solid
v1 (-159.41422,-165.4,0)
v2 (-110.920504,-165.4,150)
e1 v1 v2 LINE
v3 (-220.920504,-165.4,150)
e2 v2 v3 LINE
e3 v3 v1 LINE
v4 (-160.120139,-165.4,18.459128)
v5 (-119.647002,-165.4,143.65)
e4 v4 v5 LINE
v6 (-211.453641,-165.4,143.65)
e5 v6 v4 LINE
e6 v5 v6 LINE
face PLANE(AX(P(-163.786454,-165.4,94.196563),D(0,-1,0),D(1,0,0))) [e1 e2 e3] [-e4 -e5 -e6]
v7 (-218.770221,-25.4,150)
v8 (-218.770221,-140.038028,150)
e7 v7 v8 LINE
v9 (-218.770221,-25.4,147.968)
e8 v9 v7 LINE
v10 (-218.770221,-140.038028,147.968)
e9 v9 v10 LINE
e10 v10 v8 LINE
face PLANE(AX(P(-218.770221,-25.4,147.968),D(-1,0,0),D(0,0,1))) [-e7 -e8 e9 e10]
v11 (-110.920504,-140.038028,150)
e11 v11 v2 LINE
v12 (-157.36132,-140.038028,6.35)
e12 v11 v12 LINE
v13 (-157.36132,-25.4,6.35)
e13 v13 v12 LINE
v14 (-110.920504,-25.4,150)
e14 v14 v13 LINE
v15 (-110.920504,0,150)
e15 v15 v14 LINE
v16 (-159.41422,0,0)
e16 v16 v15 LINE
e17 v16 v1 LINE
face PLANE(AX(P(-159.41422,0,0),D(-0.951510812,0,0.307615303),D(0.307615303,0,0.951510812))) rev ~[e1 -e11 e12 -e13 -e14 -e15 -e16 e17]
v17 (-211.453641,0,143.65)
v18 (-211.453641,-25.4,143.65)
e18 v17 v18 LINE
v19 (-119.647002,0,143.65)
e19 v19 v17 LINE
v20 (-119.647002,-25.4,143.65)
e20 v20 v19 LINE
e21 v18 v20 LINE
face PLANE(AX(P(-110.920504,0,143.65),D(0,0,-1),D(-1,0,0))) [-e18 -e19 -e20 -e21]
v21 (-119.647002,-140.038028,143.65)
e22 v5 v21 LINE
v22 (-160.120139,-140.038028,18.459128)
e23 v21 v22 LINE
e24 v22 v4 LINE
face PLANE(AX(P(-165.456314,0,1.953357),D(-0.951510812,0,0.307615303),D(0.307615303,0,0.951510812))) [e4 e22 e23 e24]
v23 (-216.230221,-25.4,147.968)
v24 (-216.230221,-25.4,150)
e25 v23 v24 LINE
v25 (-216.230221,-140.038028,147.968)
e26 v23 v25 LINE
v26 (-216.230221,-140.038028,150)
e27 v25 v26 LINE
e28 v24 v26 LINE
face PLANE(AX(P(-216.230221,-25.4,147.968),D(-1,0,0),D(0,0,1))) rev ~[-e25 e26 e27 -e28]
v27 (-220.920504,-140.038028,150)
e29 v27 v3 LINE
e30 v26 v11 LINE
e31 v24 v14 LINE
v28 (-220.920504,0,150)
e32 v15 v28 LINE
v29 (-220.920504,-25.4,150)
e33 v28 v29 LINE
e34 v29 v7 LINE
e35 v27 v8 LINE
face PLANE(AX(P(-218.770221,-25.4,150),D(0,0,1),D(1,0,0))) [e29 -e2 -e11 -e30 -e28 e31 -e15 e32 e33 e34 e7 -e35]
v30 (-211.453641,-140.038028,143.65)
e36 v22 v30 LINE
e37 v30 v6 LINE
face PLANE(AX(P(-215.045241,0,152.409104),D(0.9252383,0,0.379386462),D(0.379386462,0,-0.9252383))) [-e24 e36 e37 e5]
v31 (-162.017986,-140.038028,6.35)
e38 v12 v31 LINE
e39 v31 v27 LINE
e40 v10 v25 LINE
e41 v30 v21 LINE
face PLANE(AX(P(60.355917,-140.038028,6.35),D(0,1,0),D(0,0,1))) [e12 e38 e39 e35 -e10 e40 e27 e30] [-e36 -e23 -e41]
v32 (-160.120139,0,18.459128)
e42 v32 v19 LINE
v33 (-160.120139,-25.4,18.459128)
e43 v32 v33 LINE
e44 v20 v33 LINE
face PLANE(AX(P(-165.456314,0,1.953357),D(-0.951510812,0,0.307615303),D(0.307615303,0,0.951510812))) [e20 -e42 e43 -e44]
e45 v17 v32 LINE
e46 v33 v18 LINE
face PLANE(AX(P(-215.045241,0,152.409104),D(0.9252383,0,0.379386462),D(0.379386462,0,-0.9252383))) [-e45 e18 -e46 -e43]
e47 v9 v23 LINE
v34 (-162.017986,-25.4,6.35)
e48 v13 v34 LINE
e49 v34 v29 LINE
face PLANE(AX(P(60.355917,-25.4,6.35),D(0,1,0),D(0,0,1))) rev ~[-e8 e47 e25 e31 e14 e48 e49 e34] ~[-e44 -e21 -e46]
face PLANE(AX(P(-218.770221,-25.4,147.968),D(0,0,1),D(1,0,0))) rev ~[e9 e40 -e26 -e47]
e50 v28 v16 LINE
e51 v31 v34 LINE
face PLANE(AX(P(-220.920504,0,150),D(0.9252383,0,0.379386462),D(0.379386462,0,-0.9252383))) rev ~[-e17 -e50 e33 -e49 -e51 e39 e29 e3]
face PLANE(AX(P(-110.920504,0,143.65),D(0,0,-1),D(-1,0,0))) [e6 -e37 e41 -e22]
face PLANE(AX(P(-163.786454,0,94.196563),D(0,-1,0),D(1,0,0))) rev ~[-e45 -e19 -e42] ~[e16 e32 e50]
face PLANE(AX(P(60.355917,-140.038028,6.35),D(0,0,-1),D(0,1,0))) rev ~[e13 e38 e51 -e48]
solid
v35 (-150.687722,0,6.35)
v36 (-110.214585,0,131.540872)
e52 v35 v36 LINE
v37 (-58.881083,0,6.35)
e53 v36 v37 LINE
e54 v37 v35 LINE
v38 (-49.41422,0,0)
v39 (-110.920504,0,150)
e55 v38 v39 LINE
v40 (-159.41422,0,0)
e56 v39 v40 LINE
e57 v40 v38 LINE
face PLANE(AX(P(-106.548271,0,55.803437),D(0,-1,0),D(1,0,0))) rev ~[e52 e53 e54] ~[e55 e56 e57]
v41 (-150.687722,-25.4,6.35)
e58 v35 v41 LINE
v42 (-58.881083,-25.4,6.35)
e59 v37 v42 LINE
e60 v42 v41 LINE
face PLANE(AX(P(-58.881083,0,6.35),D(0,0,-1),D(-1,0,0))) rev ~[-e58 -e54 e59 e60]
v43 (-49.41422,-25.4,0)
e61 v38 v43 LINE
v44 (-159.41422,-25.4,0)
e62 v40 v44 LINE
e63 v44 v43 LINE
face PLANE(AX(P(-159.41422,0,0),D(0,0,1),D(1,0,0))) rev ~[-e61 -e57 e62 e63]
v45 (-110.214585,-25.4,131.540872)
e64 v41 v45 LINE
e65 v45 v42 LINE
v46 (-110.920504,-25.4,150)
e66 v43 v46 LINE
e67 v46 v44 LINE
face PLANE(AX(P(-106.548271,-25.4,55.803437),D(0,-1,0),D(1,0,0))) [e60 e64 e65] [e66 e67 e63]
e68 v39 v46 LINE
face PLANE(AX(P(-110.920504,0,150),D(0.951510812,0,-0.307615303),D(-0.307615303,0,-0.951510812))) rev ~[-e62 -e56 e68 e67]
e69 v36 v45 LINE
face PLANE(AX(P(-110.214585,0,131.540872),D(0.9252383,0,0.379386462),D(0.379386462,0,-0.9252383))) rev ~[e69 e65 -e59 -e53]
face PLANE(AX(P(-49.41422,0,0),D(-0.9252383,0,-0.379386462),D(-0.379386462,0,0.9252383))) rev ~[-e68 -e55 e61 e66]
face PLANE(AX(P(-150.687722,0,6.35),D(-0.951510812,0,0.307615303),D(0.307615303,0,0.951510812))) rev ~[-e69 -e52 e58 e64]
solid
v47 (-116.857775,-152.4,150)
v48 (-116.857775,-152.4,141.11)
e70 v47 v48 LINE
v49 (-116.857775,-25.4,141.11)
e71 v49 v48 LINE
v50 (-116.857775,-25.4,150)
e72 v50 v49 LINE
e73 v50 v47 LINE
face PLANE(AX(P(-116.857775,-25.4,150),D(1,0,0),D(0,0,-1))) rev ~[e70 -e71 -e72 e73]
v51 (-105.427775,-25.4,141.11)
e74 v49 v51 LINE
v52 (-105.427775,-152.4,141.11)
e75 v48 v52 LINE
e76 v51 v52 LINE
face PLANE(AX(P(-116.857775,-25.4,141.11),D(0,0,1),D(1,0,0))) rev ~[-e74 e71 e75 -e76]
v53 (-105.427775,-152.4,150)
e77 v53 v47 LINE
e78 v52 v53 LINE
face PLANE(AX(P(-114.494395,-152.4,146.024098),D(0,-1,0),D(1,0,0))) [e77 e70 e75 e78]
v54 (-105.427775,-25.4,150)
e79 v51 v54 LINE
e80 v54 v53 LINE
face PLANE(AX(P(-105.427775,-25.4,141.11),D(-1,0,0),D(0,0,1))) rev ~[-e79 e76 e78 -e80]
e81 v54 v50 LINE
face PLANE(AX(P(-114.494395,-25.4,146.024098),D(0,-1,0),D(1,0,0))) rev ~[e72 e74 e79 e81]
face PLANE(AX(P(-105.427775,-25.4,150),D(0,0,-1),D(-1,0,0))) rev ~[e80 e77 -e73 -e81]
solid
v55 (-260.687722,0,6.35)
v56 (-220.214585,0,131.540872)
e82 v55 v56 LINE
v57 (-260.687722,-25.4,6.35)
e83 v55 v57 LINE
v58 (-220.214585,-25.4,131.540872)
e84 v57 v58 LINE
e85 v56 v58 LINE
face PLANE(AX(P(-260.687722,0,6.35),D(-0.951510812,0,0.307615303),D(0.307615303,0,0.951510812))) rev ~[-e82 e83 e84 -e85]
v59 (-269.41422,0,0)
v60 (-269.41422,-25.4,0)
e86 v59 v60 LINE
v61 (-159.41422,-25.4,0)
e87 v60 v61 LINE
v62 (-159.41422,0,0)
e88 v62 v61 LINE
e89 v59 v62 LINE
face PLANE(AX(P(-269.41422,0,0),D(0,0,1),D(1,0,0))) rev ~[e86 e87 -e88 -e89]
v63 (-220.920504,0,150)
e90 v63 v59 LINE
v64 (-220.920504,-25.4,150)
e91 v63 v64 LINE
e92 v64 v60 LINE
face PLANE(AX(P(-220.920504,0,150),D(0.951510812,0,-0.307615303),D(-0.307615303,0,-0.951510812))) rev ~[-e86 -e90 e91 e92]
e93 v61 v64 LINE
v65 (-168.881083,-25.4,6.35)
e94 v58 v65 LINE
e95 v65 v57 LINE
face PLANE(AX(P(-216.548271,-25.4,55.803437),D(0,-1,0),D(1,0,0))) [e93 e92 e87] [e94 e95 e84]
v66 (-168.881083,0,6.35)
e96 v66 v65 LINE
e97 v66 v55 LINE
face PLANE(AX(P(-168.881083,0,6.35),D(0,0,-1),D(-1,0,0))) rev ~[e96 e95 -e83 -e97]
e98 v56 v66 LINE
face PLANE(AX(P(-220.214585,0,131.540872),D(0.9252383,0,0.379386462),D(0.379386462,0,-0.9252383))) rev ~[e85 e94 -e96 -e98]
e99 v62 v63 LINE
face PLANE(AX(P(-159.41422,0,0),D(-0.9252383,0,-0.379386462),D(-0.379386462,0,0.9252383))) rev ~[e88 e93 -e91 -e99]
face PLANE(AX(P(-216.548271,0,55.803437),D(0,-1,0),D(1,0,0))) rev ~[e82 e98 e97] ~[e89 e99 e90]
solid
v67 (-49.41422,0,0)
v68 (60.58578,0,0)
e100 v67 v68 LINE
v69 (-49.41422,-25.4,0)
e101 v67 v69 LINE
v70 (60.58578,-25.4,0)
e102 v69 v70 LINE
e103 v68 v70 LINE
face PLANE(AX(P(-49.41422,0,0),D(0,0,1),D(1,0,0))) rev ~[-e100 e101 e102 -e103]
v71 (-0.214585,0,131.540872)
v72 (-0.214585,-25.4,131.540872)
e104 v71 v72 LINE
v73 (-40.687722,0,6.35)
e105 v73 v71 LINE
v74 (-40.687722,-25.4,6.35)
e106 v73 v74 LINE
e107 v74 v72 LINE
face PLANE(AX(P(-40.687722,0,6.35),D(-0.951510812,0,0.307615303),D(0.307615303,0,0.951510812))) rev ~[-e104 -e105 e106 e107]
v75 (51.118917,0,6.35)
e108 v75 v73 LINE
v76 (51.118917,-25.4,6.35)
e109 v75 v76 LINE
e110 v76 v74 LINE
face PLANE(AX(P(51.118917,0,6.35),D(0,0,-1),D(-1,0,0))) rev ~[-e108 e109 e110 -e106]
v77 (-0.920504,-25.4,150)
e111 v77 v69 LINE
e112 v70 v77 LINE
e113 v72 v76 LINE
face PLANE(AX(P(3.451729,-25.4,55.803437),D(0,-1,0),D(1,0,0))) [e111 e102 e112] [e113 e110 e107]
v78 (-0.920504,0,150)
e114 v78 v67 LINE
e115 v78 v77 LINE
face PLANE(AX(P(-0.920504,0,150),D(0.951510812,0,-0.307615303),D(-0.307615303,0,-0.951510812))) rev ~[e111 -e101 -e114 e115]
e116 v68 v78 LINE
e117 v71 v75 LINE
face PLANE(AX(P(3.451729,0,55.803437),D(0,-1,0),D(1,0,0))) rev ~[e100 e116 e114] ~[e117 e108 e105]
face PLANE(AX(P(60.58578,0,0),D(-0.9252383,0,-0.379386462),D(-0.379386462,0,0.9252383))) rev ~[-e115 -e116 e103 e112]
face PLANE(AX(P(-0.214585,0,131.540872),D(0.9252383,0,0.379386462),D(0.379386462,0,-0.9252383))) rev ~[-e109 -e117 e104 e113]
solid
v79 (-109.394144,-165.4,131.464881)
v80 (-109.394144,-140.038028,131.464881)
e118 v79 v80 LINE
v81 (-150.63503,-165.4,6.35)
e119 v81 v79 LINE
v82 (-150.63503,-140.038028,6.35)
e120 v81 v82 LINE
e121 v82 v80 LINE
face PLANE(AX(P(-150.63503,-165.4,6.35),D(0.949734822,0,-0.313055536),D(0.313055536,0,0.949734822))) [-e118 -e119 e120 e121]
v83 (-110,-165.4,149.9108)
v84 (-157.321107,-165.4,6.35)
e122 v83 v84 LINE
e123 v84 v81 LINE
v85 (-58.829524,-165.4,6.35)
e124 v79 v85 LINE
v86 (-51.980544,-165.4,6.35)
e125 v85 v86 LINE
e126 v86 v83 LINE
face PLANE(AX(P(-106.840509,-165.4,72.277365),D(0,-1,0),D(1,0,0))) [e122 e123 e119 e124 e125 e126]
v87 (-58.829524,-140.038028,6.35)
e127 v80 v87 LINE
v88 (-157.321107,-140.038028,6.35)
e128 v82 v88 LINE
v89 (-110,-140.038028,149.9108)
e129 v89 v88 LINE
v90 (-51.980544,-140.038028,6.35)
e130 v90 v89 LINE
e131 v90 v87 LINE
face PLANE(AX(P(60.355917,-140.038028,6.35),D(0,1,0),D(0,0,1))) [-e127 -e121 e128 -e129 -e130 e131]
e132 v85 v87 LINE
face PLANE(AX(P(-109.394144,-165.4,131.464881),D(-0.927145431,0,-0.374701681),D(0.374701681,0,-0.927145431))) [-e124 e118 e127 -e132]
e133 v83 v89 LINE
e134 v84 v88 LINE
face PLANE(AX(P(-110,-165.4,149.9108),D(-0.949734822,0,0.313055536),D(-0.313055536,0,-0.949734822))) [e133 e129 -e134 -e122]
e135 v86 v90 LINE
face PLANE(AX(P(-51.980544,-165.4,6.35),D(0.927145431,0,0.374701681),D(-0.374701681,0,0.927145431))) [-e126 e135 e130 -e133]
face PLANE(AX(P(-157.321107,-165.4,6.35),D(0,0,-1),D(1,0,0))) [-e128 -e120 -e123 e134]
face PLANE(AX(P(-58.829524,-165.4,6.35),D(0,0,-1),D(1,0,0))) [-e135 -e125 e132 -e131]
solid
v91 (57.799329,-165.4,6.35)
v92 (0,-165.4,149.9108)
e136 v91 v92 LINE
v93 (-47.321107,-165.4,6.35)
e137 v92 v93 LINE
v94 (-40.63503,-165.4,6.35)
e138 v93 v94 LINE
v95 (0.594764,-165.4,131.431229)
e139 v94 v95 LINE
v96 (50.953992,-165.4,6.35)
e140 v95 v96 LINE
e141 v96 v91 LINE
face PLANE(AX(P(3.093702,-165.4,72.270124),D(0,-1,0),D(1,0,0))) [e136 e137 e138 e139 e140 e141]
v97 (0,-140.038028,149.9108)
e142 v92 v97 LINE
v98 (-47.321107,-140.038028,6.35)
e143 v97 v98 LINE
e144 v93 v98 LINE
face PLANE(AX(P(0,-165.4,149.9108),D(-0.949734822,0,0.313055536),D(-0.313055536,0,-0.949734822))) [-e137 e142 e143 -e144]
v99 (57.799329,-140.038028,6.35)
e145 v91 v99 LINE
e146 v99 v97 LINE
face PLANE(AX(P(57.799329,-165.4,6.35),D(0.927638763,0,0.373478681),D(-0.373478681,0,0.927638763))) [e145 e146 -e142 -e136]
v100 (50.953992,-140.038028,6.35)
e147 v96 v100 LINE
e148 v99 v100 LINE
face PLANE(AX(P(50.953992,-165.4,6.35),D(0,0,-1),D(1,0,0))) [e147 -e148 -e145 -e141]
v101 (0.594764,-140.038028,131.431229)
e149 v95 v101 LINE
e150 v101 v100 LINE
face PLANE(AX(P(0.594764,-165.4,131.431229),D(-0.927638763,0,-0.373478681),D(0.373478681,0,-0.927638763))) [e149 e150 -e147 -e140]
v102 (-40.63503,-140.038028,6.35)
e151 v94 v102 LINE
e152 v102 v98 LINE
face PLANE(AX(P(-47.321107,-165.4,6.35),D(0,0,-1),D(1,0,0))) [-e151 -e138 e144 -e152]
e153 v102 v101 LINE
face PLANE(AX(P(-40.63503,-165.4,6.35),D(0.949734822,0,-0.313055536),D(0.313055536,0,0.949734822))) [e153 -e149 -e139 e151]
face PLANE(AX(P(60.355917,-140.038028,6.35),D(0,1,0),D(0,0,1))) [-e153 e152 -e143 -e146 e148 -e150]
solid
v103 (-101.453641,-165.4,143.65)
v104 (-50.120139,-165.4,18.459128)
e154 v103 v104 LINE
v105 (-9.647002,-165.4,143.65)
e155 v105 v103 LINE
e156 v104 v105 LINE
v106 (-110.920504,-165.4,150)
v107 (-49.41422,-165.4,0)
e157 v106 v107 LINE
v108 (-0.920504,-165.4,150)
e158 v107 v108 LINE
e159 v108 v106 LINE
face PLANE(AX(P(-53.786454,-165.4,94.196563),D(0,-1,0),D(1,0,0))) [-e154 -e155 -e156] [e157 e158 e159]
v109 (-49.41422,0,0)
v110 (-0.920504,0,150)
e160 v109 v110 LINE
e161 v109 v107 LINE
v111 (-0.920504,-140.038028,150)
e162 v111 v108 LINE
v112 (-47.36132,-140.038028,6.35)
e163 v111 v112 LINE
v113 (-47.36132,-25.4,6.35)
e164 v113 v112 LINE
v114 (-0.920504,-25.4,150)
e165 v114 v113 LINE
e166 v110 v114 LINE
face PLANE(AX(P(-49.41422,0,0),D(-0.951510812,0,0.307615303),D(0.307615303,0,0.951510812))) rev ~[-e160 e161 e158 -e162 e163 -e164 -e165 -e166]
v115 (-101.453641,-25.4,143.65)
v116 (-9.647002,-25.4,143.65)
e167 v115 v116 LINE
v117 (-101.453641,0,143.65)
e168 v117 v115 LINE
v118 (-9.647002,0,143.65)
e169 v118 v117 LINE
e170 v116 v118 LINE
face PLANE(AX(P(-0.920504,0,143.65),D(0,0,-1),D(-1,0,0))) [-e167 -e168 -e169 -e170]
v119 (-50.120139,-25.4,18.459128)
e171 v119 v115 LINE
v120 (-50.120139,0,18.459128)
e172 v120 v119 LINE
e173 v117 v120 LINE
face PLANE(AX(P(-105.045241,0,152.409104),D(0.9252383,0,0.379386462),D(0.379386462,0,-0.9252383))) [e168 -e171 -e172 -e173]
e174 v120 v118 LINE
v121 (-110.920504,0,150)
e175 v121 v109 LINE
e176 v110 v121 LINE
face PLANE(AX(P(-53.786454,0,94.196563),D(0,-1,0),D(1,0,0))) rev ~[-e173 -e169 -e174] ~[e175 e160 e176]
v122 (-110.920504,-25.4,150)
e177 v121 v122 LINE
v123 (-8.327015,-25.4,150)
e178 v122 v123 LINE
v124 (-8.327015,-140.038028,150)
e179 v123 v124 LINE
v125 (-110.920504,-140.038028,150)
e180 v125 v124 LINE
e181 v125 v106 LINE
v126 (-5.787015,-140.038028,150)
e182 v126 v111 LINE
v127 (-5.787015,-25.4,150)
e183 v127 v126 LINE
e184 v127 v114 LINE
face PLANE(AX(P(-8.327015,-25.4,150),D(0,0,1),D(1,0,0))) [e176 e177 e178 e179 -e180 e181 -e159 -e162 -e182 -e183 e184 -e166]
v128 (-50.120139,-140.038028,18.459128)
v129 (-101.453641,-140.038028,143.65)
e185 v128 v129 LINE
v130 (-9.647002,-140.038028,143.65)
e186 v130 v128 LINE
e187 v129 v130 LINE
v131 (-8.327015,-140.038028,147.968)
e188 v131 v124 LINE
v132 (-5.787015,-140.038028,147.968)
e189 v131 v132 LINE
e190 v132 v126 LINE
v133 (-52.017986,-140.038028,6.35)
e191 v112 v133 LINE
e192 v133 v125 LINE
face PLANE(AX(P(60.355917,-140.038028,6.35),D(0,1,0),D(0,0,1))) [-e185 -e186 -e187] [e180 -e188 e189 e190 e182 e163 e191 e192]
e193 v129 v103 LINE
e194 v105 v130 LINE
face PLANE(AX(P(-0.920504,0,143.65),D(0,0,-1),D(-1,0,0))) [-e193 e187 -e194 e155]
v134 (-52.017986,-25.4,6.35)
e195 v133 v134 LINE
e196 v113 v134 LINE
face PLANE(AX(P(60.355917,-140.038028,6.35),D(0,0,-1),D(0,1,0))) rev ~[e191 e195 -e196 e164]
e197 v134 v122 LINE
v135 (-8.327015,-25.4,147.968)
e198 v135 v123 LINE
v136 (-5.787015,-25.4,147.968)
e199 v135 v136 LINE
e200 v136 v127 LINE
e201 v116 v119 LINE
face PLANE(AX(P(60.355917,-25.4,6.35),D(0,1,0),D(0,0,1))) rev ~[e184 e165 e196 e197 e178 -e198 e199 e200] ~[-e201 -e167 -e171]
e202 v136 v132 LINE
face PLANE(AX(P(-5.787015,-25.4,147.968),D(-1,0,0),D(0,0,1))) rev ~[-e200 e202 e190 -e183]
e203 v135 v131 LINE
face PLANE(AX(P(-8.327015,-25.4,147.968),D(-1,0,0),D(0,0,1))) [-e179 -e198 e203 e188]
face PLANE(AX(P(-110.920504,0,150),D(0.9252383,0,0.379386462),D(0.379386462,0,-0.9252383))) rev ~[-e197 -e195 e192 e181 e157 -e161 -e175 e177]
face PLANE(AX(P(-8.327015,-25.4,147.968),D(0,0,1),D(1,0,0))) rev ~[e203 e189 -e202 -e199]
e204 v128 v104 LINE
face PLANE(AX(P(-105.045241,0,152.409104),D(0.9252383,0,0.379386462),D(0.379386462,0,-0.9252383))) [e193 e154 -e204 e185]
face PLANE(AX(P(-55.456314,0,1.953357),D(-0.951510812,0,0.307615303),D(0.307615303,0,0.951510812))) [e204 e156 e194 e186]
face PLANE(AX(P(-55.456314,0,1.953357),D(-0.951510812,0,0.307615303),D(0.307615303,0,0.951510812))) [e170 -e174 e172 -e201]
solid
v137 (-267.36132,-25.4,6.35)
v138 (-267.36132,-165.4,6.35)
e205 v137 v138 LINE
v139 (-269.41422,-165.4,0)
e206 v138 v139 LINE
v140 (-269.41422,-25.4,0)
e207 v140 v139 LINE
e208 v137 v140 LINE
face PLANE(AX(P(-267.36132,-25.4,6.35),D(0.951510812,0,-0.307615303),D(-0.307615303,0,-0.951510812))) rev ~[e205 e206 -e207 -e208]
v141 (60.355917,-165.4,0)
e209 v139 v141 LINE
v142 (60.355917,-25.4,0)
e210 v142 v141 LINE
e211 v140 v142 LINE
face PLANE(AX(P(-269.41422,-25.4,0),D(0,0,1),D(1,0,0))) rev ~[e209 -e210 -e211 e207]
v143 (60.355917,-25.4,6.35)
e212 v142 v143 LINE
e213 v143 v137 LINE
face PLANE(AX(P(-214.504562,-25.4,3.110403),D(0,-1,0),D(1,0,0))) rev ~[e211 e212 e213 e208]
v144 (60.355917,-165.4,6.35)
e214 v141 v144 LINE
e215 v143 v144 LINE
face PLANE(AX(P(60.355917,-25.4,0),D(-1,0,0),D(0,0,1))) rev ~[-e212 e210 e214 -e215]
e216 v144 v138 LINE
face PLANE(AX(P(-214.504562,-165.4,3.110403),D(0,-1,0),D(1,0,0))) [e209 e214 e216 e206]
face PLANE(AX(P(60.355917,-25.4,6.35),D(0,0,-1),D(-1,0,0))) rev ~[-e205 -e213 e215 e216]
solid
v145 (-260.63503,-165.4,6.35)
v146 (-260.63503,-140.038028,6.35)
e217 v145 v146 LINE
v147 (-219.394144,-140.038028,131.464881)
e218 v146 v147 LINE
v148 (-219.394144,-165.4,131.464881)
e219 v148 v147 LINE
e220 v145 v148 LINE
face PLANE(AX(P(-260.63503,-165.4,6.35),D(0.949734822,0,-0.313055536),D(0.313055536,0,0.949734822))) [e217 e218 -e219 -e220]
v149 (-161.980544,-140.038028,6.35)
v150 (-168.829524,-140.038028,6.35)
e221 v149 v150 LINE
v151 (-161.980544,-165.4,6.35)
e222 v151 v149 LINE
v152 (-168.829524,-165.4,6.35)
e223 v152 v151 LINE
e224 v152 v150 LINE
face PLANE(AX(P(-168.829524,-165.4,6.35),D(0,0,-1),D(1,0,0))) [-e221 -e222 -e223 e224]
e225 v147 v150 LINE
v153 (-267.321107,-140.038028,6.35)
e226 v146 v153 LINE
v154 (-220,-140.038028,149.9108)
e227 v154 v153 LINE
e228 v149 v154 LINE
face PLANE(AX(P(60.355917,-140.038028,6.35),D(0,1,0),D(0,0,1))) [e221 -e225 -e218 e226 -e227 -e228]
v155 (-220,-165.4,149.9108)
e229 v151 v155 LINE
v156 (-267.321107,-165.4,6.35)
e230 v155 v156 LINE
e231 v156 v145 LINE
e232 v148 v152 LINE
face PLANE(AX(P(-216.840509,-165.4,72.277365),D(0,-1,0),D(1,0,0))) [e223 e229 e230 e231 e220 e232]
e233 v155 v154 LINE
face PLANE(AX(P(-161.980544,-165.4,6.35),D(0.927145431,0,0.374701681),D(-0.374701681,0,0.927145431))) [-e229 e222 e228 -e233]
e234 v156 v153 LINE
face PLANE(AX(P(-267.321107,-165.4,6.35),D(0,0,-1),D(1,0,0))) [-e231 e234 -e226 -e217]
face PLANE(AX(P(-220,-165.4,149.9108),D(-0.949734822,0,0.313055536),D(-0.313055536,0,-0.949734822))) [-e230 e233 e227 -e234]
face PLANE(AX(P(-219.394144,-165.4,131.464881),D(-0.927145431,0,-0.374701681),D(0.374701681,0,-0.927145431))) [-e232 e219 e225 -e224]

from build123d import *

# Parameters (mm, degrees)
F1_DEPTH  = 25.4
F3_DEPTH  = 140
F5_DEPTH  = 25.4
F6_DEPTH  = 165.4
F7_T      = -6.35
F7_2_T    = -6.35
F8_W      = 114.6380283594
F8_H      = 145.7706200123
F9_DEPTH  = 333
F10_W     = 2.54
F10_H     = 2.032
F11_DEPTH = 127
F13_DEPTH = 127
F14_W     = 2.54
F14_H     = 2.032
F15_DEPTH = 127


with BuildPart() as f1:
    # F0 (on Front) → F1 (new body)
    with BuildSketch(Plane.XZ):
        Polygon((-220.9205039681, 150), (-269.4142203802, 0), (-159.4142203802, 0), align=None)
        Polygon((-260.6877224035, 6.35), (-220.2145848766, 131.5408716885), (-168.8810831653, 6.35), align=None, mode=Mode.SUBTRACT)
    extrude(amount=F1_DEPTH)


with BuildPart() as f1b:
    # F0 (on Front) → F1, piece 2 (new body)
    with BuildSketch(Plane.XZ):
        Polygon((-110.9205039681, 150), (-159.4142203802, 0), (-49.4142203802, 0), align=None)
        Polygon((-58.8810831653, 6.35), (-150.6877224035, 6.35), (-110.2145848766, 131.5408716885), align=None, mode=Mode.SUBTRACT)
    extrude(amount=F1_DEPTH)


with BuildPart() as f1c:
    # F0 (on Front) → F1, piece 3 (new body)
    with BuildSketch(Plane.XZ):
        Polygon((-0.9205039681, 150), (-49.4142203802, 0), (60.5857796198, 0), align=None)
        Polygon((-40.6877224035, 6.35), (-0.2145848766, 131.5408716885), (51.1189168347, 6.35), align=None, mode=Mode.SUBTRACT)
    extrude(amount=F1_DEPTH)


with BuildPart() as f3:
    # F2 (on face) → F3 (new body)
    with BuildSketch(Plane.XZ.offset(25.4)):
        Polygon((-267.3613197188, 6.35), (-269.4142203802, 0), (-159.4142203802, 0), (-162.0179863854, 6.35), (-168.8810831653, 6.35), (-260.6877224035, 6.35), align=None)
        Polygon((-162.0179863854, 6.35), (-159.4142203802, 0), (60.3559166193, 0), (60.3559166193, 6.35), align=None)
    extrude(amount=F3_DEPTH)


with BuildPart() as f5:
    # F4 (on face) → F5 (new body)
    with BuildSketch(Plane.XZ.offset(165.4)):
        Polygon((-220, 149.9108), (-267.3211070127, 6.35), (-260.6350301683, 6.35), (-219.3941436498, 131.4648807595), (-168.829523937, 6.35), (-161.9805444915, 6.35), align=None)
    extrude(amount=-F5_DEPTH)


with BuildPart() as f5b:
    # F4 (on face) → F5, piece 2 (new body)
    with BuildSketch(Plane.XZ.offset(165.4)):
        Polygon((-110, 149.9108), (-157.3211070127, 6.35), (-150.6350301683, 6.35), (-109.3941436498, 131.4648807595), (-58.829523937, 6.35), (-51.9805444915, 6.35), align=None)
    extrude(amount=-F5_DEPTH)


with BuildPart() as f5c:
    # F4 (on face) → F5, piece 3 (new body)
    with BuildSketch(Plane.XZ.offset(165.4)):
        Polygon((0, 149.9108), (-47.3211070127, 6.35), (-40.6350301683, 6.35), (0.5947637896, 131.431228612), (50.953992109, 6.35), (57.7993291651, 6.35), align=None)
    extrude(amount=-F5_DEPTH)


with BuildPart() as f6:
    # F0 (on Front) → F6 (new body, through all)
    with BuildSketch(Plane.XZ):
        Polygon((-110.9205039681, 150), (-220.9205039681, 150), (-159.4142203802, 0), align=None)
    extrude(amount=F6_DEPTH)

    # F7
    f7_openings = [f6.faces().sort_by_distance(p)[0] for p in [
        (-163.751743, -165.4, 100),
        (-163.751743, 0, 100),
    ]]
    offset(amount=F7_T, openings=f7_openings)


with BuildPart() as f6b:
    # F0 (on Front) → F6, piece 2 (new body, through all)
    with BuildSketch(Plane.XZ):
        Polygon((-0.9205039681, 150), (-110.9205039681, 150), (-49.4142203802, 0), align=None)
    extrude(amount=F6_DEPTH)

    # F7#2
    f7_2_openings = [f6b.faces().sort_by_distance(p)[0] for p in [
        (-53.751743, -165.4, 100),
        (-53.751743, 0, 100),
    ]]
    offset(amount=F7_2_T, openings=f7_2_openings)


with BuildPart() as f9_tool:
    # F8 (on face) → F9 (new body)
    with BuildSketch(Plane.YZ.offset(60.3559166193)):
        with Locations((-82.7190141797, 79.2353100061)):
            Rectangle(F8_W, F8_H)
    extrude(amount=-F9_DEPTH)


with BuildPart() as f5_1:
    add(f5.part)

    # F9: cut by f9_tool
    add(f9_tool.part, mode=Mode.SUBTRACT)


with BuildPart() as f5b_1:
    add(f5b.part)

    # F9: cut by f9_tool
    add(f9_tool.part, mode=Mode.SUBTRACT)


with BuildPart() as f5c_1:
    add(f5c.part)

    # F9: cut by f9_tool
    add(f9_tool.part, mode=Mode.SUBTRACT)


with BuildPart() as f6_1:
    add(f6.part)

    # F9: cut by f9_tool
    add(f9_tool.part, mode=Mode.SUBTRACT)

    # F10 (on face) → F11 (join)
    with BuildSketch(Plane.XZ.offset(25.4)):
        with Locations((-217.5002208757, 148.984)):
            Rectangle(F10_W, F10_H)
    extrude(amount=F11_DEPTH)


with BuildPart() as f6b_1:
    add(f6b.part)

    # F9: cut by f9_tool
    add(f9_tool.part, mode=Mode.SUBTRACT)

    # F14 (on face) → F15 (join)
    with BuildSketch(Plane.XZ.offset(25.4)):
        with Locations((-7.0570147443, 148.984)):
            Rectangle(F14_W, F14_H)
    extrude(amount=F15_DEPTH)


with BuildPart() as f13:
    # F12 (on face) → F13 (new body)
    with BuildSketch(Plane.XZ.offset(25.4)):
        Polygon((-110.9205039681, 150), (-116.8577745557, 150), (-116.8577745557, 141.11), (-113.7945648941, 141.11), align=None)
        Polygon((-105.4277745557, 150), (-110.9205039681, 150), (-113.7945648941, 141.11), (-105.4277745557, 141.11), align=None)
    extrude(amount=F13_DEPTH)


solid = Compound([f1.part, f1b.part, f1c.part, f3.part, f5_1.part, f5b_1.part, f5c_1.part, f6_1.part, f6b_1.part, f13.part])
